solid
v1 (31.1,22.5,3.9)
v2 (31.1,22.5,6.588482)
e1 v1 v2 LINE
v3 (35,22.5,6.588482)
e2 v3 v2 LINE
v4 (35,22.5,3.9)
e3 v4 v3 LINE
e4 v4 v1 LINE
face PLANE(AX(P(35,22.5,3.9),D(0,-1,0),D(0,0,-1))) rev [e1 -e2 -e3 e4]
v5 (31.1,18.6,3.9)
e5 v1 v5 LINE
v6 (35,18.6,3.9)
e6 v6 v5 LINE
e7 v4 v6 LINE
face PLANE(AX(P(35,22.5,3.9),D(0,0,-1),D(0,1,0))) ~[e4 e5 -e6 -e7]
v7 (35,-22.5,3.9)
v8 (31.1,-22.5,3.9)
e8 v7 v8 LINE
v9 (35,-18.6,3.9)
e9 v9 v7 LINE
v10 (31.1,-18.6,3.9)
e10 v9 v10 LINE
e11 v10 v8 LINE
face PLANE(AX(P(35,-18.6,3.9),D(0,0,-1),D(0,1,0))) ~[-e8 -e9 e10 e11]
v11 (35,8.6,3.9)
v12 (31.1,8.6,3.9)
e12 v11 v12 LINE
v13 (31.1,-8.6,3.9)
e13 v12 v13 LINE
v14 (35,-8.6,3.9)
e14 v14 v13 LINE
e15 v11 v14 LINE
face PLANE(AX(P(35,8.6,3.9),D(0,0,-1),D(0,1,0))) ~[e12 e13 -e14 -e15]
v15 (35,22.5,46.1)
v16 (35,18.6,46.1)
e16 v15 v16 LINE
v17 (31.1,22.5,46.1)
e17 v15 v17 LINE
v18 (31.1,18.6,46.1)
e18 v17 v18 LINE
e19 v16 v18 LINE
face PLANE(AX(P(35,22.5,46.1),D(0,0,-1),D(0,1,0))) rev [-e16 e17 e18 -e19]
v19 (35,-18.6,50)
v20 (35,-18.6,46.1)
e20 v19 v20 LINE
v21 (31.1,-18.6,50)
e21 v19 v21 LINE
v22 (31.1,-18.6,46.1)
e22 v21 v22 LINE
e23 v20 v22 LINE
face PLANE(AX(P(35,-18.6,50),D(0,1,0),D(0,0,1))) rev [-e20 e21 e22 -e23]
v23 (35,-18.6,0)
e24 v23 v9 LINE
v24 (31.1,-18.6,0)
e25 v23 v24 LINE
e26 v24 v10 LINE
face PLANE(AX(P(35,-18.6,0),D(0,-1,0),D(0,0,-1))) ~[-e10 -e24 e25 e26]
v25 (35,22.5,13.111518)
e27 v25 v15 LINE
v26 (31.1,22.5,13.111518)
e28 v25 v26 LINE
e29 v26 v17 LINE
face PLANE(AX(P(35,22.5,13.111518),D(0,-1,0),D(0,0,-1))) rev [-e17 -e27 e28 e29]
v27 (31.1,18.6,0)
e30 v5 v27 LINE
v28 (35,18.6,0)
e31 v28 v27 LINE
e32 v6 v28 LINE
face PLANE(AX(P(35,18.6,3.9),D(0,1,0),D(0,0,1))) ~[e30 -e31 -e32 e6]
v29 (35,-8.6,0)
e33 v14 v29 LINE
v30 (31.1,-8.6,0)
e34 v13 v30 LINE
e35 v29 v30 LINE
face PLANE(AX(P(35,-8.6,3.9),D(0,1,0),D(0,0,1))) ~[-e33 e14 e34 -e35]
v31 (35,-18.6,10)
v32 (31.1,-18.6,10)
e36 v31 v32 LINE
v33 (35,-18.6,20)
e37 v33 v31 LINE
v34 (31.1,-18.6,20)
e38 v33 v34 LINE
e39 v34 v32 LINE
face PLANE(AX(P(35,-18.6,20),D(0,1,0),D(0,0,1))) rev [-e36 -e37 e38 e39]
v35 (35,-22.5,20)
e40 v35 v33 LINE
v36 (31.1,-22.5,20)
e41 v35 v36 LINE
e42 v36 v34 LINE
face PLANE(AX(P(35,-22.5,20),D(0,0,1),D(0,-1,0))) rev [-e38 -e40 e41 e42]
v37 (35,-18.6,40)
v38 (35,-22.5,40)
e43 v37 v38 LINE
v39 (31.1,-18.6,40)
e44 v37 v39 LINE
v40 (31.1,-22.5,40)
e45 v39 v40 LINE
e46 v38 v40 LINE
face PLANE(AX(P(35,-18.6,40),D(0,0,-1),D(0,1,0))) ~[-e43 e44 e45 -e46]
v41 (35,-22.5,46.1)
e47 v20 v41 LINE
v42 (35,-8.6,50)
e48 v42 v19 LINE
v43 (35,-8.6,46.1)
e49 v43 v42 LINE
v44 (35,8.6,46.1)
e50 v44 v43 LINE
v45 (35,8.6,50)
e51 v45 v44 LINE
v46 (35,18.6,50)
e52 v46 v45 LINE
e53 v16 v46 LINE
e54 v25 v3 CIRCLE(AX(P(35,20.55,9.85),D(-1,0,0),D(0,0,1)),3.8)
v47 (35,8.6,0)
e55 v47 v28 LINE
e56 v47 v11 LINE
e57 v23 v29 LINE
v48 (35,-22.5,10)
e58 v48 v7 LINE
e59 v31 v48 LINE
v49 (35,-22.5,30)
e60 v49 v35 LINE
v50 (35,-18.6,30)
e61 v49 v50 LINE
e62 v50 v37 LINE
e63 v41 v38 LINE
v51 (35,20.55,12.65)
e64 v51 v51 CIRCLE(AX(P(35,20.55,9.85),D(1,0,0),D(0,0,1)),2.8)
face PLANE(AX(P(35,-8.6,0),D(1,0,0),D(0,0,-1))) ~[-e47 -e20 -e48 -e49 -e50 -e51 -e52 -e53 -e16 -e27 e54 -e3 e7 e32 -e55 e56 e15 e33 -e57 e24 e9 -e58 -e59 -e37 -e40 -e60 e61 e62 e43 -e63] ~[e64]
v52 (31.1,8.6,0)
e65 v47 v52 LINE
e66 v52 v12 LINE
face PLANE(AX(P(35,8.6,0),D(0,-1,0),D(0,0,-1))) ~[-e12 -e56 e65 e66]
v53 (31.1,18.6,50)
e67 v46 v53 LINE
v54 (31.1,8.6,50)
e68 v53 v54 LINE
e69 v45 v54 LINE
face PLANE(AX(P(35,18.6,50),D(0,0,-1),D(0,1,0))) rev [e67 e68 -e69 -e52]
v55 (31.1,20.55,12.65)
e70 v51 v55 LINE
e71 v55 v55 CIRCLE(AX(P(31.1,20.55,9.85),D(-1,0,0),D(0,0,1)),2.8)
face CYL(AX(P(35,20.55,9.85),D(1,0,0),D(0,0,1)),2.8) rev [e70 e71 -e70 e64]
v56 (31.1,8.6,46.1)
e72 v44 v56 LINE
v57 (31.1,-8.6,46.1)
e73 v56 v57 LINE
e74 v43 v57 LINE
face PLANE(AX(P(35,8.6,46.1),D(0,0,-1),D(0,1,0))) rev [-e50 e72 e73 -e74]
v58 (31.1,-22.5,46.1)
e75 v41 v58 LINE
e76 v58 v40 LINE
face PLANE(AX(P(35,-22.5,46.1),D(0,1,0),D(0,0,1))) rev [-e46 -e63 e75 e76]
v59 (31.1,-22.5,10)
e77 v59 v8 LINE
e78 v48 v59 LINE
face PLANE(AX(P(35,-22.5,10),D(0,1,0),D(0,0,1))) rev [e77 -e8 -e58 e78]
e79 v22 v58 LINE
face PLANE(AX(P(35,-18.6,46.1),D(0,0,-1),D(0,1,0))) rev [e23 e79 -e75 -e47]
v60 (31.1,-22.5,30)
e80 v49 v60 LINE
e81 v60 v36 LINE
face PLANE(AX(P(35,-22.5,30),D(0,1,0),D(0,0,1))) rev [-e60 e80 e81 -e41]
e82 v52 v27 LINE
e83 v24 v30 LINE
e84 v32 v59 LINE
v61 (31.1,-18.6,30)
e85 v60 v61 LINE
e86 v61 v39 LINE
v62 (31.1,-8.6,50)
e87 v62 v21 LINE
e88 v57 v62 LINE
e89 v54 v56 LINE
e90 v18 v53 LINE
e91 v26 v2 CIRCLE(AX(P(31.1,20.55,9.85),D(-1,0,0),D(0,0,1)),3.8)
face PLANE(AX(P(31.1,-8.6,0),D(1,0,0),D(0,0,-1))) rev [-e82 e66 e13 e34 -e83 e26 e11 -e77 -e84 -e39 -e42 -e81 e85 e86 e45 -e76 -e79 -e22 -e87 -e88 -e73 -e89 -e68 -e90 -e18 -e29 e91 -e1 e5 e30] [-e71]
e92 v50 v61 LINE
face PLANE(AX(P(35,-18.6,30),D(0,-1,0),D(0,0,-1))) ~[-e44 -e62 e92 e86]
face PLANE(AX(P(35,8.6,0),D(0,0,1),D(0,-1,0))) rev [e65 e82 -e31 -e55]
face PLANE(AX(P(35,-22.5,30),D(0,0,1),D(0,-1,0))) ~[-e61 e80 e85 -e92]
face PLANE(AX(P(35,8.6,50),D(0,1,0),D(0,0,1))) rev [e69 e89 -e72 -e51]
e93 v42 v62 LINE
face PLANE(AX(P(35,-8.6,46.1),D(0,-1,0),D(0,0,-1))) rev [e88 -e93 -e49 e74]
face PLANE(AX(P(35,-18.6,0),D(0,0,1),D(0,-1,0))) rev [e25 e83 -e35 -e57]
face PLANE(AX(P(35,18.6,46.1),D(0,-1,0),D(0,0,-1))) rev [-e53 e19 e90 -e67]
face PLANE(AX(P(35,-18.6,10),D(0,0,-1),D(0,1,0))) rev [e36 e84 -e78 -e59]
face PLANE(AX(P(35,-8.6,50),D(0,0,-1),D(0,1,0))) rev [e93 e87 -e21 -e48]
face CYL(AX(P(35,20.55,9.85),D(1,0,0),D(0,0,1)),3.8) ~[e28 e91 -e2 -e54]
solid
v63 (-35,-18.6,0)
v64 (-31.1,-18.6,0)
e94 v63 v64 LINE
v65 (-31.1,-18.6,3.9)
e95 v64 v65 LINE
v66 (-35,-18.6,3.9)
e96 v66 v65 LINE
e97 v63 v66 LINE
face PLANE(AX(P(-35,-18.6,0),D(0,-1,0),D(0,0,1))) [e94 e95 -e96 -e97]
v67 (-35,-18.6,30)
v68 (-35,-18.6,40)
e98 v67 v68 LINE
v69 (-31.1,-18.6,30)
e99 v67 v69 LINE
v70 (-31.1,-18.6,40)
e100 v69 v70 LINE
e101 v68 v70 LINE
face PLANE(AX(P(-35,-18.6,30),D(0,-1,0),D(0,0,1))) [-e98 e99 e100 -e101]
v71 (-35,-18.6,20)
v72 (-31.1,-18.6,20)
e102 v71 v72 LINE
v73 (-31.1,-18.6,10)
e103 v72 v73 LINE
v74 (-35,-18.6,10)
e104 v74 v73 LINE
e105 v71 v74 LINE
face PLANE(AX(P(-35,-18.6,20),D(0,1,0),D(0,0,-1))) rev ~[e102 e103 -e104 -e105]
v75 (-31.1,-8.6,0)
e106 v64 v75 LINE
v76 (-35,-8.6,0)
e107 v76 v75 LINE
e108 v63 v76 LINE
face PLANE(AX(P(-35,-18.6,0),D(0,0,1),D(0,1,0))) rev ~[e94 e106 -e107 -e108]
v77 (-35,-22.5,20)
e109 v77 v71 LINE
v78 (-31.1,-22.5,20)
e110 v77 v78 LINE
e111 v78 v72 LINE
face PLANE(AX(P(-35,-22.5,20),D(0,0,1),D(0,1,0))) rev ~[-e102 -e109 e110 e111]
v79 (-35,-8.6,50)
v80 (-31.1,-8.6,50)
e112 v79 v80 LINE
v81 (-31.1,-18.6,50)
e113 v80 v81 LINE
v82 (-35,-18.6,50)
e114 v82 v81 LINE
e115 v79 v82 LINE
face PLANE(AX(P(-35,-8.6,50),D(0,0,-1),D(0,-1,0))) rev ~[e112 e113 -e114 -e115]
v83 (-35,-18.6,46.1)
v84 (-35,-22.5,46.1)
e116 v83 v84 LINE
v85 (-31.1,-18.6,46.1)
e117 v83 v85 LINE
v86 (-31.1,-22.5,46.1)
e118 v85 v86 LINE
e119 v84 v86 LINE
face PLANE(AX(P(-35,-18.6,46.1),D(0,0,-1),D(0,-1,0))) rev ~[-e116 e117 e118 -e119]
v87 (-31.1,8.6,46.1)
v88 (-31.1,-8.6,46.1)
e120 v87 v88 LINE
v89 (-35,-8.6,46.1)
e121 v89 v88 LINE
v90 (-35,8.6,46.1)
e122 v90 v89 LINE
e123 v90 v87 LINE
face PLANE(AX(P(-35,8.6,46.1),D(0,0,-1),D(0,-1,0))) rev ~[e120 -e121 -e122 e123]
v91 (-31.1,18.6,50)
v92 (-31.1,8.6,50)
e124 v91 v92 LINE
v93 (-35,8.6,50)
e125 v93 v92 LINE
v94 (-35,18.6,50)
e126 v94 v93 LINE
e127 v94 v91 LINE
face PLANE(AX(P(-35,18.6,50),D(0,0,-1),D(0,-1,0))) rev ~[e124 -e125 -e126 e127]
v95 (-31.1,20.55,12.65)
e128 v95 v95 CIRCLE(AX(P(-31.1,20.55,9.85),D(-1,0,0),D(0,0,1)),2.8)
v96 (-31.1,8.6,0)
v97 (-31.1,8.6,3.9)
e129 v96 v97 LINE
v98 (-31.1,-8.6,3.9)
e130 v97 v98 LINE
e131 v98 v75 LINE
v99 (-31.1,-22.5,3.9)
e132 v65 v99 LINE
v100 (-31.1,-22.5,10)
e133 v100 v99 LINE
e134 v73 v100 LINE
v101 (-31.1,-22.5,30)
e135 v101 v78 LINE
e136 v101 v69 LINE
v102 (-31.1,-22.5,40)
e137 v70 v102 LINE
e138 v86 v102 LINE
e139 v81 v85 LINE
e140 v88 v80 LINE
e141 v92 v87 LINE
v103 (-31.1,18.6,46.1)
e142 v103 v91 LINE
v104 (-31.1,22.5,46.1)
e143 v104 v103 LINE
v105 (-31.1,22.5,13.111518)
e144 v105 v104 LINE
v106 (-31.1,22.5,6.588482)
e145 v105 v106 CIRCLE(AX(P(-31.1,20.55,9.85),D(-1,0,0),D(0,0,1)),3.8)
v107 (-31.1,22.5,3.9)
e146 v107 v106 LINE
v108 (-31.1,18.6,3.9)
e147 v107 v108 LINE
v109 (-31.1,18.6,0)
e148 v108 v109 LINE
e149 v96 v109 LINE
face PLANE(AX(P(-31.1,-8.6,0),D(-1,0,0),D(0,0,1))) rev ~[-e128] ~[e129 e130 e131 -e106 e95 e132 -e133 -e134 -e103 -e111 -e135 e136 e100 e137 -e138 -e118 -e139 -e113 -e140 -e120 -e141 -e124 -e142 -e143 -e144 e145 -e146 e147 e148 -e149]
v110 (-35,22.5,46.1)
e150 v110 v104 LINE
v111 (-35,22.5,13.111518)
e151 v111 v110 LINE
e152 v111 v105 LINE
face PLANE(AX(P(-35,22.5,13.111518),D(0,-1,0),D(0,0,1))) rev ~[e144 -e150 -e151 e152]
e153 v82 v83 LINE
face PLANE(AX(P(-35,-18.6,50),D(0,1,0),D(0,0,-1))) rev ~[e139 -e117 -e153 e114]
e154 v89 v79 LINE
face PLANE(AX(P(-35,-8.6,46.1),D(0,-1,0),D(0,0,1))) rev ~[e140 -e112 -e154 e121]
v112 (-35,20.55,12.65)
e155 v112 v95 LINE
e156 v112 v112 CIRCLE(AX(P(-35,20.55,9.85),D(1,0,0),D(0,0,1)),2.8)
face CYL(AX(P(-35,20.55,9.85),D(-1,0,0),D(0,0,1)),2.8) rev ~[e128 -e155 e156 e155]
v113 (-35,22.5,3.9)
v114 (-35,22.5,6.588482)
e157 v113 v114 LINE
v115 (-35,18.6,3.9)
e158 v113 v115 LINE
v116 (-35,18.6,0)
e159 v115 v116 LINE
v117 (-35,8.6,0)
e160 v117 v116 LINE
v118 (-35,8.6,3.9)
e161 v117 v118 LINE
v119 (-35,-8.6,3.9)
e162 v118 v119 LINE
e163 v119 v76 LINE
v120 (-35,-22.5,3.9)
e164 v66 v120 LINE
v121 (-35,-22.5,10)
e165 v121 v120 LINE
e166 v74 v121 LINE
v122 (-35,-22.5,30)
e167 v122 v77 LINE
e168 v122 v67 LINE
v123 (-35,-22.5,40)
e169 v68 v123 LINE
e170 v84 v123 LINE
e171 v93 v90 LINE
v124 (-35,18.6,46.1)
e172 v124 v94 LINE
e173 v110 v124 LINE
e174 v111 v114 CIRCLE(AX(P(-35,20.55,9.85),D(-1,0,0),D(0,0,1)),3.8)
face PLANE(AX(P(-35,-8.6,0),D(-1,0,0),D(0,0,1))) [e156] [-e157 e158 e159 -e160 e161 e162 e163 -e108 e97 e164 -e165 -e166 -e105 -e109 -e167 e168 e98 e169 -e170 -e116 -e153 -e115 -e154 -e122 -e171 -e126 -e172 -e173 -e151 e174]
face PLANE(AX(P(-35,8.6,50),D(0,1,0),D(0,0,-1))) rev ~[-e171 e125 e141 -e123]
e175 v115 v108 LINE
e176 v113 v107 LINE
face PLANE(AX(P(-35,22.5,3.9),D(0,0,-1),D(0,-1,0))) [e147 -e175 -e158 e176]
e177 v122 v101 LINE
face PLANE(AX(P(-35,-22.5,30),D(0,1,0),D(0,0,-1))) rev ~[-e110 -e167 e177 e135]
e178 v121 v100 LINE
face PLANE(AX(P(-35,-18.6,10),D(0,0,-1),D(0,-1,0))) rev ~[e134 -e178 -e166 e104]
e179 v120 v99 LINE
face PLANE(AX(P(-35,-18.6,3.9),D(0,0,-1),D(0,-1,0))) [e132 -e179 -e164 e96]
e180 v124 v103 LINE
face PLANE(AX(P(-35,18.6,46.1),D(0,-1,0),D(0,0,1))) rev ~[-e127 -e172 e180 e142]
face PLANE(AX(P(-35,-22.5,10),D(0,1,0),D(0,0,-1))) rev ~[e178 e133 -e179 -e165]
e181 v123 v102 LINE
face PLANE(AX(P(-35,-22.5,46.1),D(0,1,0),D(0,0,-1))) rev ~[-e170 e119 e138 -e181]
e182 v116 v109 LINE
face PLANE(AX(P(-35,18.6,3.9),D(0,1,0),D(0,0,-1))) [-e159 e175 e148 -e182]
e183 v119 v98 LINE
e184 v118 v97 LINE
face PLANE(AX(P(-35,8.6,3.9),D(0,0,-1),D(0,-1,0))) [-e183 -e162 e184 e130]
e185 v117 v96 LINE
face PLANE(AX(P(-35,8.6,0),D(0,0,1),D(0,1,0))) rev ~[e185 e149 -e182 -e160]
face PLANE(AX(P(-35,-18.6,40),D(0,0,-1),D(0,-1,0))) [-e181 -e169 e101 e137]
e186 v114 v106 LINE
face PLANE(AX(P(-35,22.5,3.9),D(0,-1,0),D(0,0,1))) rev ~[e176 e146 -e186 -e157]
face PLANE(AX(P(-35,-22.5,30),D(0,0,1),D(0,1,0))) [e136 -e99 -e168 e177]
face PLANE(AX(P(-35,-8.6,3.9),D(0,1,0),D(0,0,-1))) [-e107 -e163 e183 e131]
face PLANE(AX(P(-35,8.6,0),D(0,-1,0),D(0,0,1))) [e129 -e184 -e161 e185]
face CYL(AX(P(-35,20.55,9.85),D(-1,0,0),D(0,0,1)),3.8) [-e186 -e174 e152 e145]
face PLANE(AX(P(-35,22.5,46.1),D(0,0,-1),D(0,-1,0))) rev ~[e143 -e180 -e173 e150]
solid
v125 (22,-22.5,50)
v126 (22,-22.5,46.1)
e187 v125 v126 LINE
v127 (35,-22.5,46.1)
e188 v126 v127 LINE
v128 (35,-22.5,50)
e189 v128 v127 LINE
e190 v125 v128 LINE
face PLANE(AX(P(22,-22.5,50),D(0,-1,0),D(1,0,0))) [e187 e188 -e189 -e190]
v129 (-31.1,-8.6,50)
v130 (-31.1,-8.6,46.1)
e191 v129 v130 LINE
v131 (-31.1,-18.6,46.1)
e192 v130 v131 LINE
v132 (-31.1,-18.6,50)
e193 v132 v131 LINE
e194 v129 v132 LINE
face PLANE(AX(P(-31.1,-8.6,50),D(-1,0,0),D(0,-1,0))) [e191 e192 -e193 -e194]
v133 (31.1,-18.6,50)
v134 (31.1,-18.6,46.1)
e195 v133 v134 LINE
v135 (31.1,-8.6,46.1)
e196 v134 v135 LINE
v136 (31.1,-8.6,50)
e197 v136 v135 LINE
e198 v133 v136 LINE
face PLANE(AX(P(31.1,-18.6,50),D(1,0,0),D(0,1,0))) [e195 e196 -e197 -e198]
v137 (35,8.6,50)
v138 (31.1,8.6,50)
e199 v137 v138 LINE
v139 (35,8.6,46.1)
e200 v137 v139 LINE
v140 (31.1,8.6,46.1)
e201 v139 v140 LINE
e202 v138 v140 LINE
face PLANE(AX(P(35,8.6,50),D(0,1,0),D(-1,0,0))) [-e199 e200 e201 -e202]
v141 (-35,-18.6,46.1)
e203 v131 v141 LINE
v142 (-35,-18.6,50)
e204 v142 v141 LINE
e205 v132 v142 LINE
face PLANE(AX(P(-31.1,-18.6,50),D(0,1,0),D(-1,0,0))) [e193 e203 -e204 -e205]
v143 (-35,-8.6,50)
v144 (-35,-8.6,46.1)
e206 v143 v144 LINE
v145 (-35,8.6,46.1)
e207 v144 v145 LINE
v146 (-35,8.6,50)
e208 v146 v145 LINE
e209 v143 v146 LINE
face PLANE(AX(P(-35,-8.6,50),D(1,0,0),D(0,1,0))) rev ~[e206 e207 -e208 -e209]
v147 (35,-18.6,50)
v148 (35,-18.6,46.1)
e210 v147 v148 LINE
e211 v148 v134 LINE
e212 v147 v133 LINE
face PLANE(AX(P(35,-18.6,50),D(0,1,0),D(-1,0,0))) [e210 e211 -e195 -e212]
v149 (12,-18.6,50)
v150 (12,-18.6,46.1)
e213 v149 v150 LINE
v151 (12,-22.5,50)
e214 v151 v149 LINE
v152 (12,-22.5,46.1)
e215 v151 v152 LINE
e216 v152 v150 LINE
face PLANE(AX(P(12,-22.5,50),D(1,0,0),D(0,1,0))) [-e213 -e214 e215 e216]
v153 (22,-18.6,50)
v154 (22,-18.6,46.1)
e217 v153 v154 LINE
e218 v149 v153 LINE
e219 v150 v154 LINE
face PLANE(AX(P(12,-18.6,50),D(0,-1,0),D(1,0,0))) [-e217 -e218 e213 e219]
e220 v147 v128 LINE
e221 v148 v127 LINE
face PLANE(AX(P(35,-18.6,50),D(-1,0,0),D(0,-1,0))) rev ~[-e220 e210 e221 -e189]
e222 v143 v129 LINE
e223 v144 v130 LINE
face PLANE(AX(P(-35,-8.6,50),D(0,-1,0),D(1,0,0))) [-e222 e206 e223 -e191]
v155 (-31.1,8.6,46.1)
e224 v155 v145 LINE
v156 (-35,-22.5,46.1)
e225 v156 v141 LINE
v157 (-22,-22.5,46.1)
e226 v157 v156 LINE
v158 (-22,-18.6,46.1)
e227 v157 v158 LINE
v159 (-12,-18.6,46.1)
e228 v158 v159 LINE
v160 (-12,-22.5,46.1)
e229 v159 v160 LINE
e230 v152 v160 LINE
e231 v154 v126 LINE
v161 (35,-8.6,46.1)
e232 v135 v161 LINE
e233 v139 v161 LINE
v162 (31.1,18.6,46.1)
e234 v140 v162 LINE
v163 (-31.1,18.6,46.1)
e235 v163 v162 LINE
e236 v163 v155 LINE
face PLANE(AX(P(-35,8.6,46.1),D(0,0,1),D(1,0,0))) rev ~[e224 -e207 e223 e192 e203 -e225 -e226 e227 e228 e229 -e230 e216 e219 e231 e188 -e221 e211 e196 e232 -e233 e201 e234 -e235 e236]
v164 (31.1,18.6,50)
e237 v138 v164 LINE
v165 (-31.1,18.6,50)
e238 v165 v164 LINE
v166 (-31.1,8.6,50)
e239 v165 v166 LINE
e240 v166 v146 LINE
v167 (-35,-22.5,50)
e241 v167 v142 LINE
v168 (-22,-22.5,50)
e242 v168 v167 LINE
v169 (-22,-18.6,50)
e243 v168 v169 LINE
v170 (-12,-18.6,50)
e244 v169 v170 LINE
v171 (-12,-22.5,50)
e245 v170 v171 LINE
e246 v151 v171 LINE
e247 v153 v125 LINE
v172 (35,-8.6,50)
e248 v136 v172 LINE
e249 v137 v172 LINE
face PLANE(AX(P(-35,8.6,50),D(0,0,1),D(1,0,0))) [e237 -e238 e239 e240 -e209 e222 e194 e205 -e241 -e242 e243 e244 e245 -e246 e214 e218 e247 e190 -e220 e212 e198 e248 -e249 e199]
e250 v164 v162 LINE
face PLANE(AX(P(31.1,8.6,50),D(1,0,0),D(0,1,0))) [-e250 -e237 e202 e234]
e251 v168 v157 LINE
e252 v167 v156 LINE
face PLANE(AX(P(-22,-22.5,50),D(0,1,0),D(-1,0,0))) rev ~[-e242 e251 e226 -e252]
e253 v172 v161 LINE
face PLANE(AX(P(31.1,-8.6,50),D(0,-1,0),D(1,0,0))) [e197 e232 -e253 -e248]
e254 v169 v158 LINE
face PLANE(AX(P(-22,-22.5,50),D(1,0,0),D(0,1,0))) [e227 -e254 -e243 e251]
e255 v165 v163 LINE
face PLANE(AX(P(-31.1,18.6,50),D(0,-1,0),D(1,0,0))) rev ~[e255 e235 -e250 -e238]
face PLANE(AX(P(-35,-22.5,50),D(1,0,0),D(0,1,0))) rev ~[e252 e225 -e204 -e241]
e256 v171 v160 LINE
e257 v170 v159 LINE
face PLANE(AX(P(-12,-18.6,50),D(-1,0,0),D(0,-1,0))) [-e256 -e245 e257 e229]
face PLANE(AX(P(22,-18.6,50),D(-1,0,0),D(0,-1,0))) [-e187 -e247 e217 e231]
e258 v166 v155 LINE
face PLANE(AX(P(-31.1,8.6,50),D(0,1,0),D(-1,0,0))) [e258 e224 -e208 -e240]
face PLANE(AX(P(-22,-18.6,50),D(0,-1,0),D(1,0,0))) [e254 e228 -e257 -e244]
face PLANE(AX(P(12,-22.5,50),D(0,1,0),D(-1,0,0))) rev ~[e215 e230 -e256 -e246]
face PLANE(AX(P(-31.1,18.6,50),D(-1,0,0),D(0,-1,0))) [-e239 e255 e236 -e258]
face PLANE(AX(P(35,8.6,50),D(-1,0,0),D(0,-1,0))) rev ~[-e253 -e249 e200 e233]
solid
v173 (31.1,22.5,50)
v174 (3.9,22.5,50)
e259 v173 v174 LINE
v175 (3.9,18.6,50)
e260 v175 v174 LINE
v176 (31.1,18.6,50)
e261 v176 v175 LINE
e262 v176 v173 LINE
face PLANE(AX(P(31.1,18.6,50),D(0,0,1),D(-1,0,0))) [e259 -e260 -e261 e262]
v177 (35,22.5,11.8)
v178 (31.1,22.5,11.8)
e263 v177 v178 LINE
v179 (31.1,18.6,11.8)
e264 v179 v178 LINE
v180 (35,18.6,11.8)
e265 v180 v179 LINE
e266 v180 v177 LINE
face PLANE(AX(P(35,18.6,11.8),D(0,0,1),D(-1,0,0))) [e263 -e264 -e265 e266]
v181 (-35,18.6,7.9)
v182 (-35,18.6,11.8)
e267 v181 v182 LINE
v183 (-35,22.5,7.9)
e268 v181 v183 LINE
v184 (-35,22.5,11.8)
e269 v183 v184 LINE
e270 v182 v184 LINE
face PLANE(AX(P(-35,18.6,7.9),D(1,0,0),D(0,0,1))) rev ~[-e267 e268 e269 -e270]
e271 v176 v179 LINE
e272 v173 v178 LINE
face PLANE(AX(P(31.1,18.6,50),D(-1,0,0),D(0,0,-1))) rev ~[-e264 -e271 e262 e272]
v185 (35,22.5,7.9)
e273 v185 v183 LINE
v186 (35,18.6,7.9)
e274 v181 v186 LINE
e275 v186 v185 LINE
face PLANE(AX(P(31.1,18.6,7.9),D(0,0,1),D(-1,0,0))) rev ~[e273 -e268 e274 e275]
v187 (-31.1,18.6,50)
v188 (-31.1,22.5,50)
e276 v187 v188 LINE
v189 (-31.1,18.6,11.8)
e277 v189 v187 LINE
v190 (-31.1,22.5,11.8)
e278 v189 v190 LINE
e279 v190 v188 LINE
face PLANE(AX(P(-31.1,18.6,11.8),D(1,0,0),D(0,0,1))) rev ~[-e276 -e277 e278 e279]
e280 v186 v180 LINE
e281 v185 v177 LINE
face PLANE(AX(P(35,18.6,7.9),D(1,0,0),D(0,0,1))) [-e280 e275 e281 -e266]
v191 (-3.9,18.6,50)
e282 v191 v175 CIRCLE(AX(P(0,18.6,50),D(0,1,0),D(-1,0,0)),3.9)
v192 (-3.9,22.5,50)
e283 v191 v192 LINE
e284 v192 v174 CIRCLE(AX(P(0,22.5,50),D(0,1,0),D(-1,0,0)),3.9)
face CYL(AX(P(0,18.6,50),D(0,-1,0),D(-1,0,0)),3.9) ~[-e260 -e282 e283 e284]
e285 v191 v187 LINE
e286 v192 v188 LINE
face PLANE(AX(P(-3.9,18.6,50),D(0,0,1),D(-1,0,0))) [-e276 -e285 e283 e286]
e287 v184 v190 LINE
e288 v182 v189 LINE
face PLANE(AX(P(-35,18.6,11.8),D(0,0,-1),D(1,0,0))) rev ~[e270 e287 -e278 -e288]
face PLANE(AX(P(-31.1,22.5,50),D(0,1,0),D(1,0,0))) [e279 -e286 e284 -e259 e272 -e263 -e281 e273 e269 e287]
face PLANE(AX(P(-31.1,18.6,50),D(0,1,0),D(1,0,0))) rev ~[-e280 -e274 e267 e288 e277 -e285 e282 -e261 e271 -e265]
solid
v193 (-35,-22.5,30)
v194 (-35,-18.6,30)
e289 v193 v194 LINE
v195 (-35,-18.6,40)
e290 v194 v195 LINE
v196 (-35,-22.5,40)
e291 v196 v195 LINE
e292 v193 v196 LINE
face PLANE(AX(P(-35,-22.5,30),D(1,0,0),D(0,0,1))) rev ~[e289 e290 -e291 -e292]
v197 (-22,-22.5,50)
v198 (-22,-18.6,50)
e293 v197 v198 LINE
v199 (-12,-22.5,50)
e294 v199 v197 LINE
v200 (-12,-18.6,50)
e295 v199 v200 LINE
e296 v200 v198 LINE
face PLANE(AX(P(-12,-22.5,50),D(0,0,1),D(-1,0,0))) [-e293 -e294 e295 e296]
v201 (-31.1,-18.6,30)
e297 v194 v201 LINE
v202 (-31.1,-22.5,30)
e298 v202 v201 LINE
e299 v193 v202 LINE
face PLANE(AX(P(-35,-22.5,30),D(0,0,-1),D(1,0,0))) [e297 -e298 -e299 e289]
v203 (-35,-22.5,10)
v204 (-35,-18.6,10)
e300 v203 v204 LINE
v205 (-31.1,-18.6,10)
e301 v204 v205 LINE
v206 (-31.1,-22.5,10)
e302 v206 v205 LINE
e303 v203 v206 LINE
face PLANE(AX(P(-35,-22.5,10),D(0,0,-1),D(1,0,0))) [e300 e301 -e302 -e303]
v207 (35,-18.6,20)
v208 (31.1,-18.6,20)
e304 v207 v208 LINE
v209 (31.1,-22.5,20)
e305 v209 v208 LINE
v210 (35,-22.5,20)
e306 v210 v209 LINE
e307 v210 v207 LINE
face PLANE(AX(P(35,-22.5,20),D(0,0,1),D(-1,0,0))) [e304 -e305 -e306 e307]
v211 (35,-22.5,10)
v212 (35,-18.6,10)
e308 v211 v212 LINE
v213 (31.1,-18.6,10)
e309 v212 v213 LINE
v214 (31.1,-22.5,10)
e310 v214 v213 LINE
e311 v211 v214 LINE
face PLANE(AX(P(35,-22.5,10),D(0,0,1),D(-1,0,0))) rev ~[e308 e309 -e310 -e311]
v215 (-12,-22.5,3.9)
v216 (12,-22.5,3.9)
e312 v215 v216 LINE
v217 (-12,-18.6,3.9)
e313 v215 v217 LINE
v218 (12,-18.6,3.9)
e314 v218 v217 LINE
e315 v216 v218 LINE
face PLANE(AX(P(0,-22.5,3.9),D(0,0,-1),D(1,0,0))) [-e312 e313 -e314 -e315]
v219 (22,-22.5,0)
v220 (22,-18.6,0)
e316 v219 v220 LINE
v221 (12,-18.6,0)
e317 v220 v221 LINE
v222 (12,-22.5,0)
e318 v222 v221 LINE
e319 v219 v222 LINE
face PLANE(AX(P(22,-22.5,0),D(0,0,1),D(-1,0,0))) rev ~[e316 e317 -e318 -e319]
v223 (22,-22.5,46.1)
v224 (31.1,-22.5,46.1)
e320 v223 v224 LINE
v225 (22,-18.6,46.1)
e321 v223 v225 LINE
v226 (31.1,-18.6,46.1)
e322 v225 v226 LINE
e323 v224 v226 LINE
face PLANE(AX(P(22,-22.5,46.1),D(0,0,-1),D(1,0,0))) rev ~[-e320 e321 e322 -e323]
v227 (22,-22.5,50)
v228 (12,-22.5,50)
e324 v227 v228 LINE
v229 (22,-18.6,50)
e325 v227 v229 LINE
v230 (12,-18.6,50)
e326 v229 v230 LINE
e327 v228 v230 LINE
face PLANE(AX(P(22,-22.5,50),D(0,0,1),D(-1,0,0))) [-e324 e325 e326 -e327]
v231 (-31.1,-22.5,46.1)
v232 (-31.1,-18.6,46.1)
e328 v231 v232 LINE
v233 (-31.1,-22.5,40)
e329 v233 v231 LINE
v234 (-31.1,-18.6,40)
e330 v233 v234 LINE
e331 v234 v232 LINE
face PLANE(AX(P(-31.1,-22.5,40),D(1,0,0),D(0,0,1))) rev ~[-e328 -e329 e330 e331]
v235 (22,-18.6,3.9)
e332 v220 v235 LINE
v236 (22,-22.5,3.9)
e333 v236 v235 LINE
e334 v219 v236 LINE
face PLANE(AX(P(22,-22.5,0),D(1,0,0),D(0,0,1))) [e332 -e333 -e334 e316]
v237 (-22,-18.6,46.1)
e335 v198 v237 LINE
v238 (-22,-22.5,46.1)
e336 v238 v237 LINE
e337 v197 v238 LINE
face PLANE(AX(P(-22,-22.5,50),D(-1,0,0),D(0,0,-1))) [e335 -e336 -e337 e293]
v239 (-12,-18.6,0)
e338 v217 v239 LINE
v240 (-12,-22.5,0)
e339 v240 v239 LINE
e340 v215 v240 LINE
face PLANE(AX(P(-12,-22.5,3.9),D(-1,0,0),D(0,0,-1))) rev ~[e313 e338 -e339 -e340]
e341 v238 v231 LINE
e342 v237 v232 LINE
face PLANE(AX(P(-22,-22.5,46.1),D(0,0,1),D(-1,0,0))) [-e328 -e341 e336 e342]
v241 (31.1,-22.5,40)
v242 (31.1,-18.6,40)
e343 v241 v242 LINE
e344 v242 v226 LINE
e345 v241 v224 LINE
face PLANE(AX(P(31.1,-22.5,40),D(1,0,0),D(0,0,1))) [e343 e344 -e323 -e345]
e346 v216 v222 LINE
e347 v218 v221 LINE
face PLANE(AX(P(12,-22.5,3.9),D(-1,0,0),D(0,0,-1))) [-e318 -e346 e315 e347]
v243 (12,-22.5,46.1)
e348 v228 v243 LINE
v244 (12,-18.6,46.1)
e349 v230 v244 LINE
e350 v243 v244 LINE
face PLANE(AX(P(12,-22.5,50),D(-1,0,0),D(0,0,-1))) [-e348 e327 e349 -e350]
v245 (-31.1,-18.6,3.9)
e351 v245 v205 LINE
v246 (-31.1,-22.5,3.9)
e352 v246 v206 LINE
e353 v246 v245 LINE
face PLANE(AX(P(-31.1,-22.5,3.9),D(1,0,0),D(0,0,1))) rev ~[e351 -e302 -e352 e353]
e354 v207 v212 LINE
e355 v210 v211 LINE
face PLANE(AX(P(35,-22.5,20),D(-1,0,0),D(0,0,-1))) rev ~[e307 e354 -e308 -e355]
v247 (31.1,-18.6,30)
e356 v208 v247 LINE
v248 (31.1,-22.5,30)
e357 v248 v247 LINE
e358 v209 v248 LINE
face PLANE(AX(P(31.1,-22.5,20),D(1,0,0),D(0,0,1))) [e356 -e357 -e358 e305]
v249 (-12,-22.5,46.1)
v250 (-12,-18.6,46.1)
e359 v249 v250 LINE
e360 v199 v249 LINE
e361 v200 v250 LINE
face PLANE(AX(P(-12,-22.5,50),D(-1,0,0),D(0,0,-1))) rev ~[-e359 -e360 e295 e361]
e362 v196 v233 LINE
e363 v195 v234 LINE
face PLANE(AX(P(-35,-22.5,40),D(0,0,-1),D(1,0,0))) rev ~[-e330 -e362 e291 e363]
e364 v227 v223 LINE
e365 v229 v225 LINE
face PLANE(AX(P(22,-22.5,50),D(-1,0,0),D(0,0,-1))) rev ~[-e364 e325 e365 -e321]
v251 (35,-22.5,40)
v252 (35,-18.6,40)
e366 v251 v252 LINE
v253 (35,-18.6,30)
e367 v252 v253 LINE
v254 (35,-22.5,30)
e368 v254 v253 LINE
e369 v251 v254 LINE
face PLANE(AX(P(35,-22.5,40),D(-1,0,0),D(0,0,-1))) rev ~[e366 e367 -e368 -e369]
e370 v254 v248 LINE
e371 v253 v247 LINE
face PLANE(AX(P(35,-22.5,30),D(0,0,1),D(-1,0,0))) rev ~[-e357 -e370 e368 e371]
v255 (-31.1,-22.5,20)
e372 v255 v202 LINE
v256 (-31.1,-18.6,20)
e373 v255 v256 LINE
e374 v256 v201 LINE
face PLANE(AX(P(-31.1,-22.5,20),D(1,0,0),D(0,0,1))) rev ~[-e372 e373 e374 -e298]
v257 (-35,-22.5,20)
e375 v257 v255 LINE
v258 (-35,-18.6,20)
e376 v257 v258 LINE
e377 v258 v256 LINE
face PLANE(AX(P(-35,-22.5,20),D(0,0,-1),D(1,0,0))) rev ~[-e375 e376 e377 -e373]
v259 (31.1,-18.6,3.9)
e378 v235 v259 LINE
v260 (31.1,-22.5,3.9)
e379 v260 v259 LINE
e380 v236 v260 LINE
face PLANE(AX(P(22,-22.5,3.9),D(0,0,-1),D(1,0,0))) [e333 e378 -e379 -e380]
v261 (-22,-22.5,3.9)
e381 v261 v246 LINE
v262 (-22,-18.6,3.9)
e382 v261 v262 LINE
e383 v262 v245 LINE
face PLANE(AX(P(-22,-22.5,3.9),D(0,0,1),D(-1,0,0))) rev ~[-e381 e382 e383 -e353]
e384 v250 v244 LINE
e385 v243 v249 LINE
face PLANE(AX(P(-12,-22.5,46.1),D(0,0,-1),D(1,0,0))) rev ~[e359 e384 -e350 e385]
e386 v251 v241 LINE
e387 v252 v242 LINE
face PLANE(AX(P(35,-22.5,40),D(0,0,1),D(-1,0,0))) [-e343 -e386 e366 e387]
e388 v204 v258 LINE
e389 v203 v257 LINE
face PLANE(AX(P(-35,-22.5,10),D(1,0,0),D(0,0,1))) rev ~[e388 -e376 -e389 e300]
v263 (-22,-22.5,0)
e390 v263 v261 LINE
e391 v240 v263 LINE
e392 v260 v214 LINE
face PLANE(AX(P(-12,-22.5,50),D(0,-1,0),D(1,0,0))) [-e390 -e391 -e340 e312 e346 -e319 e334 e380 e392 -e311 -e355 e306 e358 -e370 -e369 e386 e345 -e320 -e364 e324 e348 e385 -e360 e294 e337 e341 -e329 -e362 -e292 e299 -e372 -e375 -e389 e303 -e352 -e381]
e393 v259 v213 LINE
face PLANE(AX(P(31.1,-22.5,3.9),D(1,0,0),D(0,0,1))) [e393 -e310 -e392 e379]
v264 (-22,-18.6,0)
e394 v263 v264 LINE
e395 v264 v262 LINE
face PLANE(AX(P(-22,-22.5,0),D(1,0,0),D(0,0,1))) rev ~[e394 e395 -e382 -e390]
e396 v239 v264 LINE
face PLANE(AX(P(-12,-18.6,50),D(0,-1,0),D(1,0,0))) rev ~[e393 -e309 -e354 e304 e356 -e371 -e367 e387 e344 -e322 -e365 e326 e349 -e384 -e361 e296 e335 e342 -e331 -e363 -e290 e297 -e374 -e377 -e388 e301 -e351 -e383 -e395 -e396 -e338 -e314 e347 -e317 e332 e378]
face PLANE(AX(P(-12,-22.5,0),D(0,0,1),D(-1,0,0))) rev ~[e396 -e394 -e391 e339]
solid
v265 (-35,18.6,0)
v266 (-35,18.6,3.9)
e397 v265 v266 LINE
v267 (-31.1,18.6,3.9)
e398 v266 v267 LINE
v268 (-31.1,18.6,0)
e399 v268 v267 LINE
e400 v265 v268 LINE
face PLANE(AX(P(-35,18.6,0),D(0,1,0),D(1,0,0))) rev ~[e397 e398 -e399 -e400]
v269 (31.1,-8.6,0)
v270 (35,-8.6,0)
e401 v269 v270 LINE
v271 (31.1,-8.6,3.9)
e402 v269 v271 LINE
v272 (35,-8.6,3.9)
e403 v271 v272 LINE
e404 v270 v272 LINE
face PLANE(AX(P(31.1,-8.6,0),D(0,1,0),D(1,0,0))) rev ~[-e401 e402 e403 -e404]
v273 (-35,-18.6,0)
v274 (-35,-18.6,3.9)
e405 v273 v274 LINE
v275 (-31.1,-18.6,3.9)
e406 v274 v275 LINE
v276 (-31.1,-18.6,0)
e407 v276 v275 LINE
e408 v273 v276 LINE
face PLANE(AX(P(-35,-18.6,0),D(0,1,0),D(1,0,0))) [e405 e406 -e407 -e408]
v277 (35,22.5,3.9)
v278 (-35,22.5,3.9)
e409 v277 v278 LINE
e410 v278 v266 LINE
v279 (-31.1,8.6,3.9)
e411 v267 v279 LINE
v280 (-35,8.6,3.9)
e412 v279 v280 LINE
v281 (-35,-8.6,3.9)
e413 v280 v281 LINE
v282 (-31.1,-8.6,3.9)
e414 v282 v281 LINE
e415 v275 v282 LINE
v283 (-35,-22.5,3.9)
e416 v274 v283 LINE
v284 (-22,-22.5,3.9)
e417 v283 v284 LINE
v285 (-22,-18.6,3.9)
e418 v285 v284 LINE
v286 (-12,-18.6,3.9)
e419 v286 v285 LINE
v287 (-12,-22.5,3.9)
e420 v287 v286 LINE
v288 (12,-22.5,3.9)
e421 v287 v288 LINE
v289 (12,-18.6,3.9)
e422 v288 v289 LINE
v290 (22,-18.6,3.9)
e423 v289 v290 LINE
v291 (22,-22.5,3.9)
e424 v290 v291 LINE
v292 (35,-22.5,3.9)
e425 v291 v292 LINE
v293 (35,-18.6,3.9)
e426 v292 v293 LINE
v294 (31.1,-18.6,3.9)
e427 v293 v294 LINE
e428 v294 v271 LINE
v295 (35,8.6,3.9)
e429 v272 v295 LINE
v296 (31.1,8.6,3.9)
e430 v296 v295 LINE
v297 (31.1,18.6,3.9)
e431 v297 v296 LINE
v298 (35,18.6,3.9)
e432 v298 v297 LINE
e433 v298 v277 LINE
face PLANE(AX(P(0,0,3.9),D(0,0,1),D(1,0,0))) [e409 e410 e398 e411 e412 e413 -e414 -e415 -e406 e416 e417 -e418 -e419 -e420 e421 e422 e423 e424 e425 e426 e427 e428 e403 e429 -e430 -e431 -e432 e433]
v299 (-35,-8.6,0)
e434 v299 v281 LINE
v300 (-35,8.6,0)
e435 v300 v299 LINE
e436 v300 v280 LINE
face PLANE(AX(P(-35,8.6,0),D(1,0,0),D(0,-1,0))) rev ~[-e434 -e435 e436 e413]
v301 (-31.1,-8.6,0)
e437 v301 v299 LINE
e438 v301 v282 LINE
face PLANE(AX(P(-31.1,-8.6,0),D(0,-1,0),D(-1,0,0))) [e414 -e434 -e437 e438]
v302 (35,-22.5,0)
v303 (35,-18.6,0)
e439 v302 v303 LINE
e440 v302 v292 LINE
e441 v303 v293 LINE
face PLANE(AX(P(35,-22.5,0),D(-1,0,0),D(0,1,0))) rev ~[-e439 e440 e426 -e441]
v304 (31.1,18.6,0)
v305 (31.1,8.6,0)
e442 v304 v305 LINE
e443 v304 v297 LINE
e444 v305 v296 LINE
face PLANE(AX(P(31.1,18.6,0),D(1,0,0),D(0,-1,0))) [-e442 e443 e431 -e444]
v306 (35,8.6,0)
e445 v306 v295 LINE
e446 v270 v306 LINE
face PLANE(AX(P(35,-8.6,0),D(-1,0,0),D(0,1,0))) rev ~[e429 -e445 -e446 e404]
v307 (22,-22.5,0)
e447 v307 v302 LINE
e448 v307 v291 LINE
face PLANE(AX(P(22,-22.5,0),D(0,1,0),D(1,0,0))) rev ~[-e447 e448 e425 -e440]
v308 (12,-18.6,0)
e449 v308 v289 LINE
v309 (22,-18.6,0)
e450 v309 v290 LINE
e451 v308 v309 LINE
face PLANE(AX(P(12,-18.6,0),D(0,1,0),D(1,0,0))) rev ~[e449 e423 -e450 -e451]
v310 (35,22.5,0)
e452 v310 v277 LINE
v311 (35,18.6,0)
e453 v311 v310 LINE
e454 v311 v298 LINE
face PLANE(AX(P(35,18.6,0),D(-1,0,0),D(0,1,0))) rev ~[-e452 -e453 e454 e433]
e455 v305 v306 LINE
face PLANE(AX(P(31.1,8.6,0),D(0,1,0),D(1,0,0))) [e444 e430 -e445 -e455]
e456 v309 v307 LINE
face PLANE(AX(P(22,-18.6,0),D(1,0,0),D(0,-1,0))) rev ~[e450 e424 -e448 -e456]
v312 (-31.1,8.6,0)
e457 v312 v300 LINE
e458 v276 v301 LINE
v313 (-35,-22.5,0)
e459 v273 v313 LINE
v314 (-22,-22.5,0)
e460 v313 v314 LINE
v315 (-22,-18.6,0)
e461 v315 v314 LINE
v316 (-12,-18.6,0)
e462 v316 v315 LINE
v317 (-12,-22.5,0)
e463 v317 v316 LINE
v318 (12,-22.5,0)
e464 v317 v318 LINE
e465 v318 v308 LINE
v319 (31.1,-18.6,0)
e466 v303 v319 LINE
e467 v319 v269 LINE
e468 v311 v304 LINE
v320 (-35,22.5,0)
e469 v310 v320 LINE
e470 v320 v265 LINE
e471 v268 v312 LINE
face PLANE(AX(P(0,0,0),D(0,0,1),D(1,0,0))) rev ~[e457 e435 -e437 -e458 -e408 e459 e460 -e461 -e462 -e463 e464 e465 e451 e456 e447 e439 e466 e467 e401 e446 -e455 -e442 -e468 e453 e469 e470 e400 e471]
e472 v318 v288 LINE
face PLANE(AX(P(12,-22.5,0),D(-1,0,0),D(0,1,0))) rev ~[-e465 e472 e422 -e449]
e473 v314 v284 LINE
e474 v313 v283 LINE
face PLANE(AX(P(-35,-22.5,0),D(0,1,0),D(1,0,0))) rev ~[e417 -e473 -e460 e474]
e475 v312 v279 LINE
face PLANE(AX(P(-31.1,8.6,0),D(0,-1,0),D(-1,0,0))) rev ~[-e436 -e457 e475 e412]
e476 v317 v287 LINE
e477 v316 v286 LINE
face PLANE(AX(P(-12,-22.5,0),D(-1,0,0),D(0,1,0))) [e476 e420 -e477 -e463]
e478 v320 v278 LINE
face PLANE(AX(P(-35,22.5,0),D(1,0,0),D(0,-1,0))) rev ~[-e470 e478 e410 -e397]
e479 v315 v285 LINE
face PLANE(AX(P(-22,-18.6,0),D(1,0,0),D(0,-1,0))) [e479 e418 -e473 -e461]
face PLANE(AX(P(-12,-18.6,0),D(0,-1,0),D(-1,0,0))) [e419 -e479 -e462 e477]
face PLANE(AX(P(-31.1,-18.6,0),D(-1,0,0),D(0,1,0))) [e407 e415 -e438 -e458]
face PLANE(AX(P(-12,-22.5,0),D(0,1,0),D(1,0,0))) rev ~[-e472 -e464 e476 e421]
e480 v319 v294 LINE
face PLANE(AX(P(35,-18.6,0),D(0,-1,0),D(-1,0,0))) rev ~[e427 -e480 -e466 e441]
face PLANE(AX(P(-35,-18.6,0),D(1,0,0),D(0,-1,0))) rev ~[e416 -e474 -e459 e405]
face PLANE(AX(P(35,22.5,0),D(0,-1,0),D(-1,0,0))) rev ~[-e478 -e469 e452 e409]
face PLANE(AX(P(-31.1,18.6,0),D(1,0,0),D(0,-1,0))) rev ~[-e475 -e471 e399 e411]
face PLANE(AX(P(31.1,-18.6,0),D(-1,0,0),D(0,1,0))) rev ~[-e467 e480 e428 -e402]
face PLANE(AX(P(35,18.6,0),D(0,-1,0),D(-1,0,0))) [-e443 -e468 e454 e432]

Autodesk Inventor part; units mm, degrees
ref_plane "YZ Plane" through (0, 0, 0) normal (1, 0, 0) x (0, 1, 0)
ref_plane "XZ Plane" through (0, 0, 0) normal (0, 1, 0) x (-1, 0, 0)
ref_plane "XY Plane" through (0, 0, 0) normal (0, 0, 1) x (1, 0, 0)
sketch "Sketch1" plane through (0, 0, 0) normal (0, 0, 1) x (1, 0, 0)
  line L0 (-35, -22.5) -> (35, -22.5)
  line L1 (35, -22.5) -> (35, 22.5)
  line L2 (35, 22.5) -> (-35, 22.5)
  line L3 (-35, 22.5) -> (-35, -22.5)
  line L4 (-35, -22.5) -> (35, 22.5) construction
  line L5 (35, -22.5) -> (-35, 22.5) construction
  line L6 (-35, 0) -> (35, 0) construction
  line L7 (0, 22.5) -> (0, -22.5) construction
  line L8 (-35, 18.6) -> (-31.1, 18.6)
  line L9 (-31.1, 18.6) -> (-31.1, 8.6)
  line L10 (-31.1, 8.6) -> (-35, 8.6)
  line L11 (-35, 8.6) -> (-35, 18.6)
  line L12 (-35, -18.6) -> (-31.1, -18.6)
  line L13 (-31.1, -18.6) -> (-31.1, -8.6)
  line L14 (-31.1, -8.6) -> (-35, -8.6)
  line L15 (35, 18.6) -> (31.1, 18.6)
  line L16 (31.1, 18.6) -> (31.1, 8.6)
  line L17 (31.1, 8.6) -> (35, 8.6)
  line L18 (31.1, -18.6) -> (31.1, -8.6)
  line L19 (31.1, -8.6) -> (35, -8.6)
  line L20 (35, -18.6) -> (31.1, -18.6)
  line L21 (-22, -22.5) -> (-12, -22.5)
  line L22 (-12, -22.5) -> (-12, -18.6)
  line L23 (-12, -18.6) -> (-22, -18.6)
  line L24 (-22, -18.6) -> (-22, -22.5)
  line L25 (12, -22.5) -> (12, -18.6)
  line L26 (12, -18.6) -> (22, -18.6)
  line L27 (22, -18.6) -> (22, -22.5)
  point P0 (0, 0)
  point P1 (-35, -18.6)
  point P2 (35, -18.6)
  point P3 (35, -8.6)
  point P4 (35, 8.6)
  point P5 (35, 18.6)
  point P6 (-35, 8.6)
  point P7 (-35, -8.6)
  dimension "d0" = 70
  dimension "d1" = 45
  dimension "d2" = 3.9
  dimension "d3" = 10
  dimension "d4" = 3.9
  dimension "d7" = 10
  dimension "d8" = 3.9
  dimension "d9" = 12
extrude "Extrusion1" add sketch "Sketch1" along normal blind 3.9 contours L3 L12 L13 L14 L10 L9 L8 L2 L1 L15 L16 L17 L19 L18 L20 L0 L27 L26 L25 L22 L23 L24
sketch "Sketch2" plane through (-35, -8.6, 0) normal (-1, 0, 0) x (0, 0, 1)
  line L0 (50, -13.9) -> (0, -13.9)
  line L1 (0, -13.9) -> (0, 31.1)
  line L2 (0, 31.1) -> (50, 31.1)
  line L3 (50, 31.1) -> (50, -13.9)
  line L4 (50, -13.9) -> (0, 31.1) construction
  line L5 (0, -13.9) -> (50, 31.1) construction
  line L6 (3.9, 31.1) -> (3.9, 27.2) projected
  line L7 (0, 31.1) -> (0, 27.2) projected
  line L8 (3.9, 27.2) -> (0, 27.2)
  line L9 (0, 27.2) -> (0, 31.1)
  line L10 (0, 31.1) -> (3.9, 31.1)
  line L11 (3.9, 31.1) -> (3.9, 27.2)
  line L12 (25, 31.1) -> (25, -13.9) construction
  line L13 (0, 8.6) -> (50, 8.6) construction
  line L14 (0, 0) -> (0, -10) projected
  line L15 (0, -10) -> (3.9, -10)
  line L16 (3.9, -10) -> (3.9, -13.9)
  line L17 (3.9, -13.9) -> (0, -13.9)
  line L18 (0, -13.9) -> (0, -10)
  line L19 (0, 27.2) -> (0, 17.2) projected
  line L20 (3.9, 17.2) -> (3.9, 0) projected
  line L21 (0, 17.2) -> (3.9, 17.2)
  line L22 (3.9, 17.2) -> (3.9, 0)
  line L23 (3.9, 0) -> (0, 0)
  line L24 (0, 0) -> (0, 17.2)
  line L25 (46.1, 31.1) -> (46.1, 27.2)
  line L26 (46.1, 27.2) -> (50, 27.2)
  line L27 (50, -10) -> (46.1, -10)
  line L28 (46.1, -10) -> (46.1, -13.9)
  line L29 (46.1, 17.2) -> (46.1, 0)
  line L30 (50, 17.2) -> (46.1, 17.2)
  line L31 (46.1, 0) -> (50, 0)
  line L32 (10, -13.9) -> (20, -13.9)
  line L33 (20, -13.9) -> (20, -10)
  line L34 (20, -10) -> (10, -10)
  line L35 (10, -10) -> (10, -13.9)
  line L36 (50, 8.6) -> (0, 8.6) construction
  line L37 (30, -13.9) -> (30, -10)
  line L38 (30, -10) -> (40, -10)
  line L39 (40, -10) -> (40, -13.9)
  line L40 (7.9, 31.1) -> (11.8, 31.1)
  line L41 (11.8, 31.1) -> (11.8, 27.2) construction
  line L42 (11.8, 27.2) -> (7.9, 27.2) construction
  line L43 (7.9, 27.2) -> (7.9, 31.1) construction
  circle A0 centre (9.85, 29.15) radius 2.8
  circle A1 centre (9.85, 29.15) radius 3.8
  point P0 (25, 8.6)
  point P1 (0, 27.2)
  point P2 (20, -13.9)
  point P3 (30, -13.9)
  point P4 (6.5885, 31.1)
  point P5 (13.1115, 31.1)
  dimension "d10" = 50
  dimension "d11" = 45
  dimension "d12" = 10
  dimension "d13" = 3.9
  dimension "d14" = 5
  dimension "d28" = 3.9
  dimension "d29" = 3.9
  dimension "d30" = 4
  dimension "d31" = 5.6
  dimension "d32" = 1
extrude "Extrusion2" add sketch "Sketch2" against normal blind 3.9 separate body contours L0 L39 L38 L37 L33 L34 L35 L16 L15 L1 L23 L20 L21 L8 L6 L2 A1 L25 L26 L3 L30 L29 L31 L27 L28 | A1 L2 A0 | L2 A0 A1
mirror "Mirror1" about plane through (0, 0, 0) normal (1, 0, 0) of "Extrusion2" bodies 2
sketch "Sketch3" plane through (-35, 8.6, 50) normal (0, 0, 1) x (1, 0, 0)
  line L0 (0, 10) -> (3.9, 10) projected
  line L1 (57, -31.1) -> (70, -31.1) projected
  line L2 (0, 10) -> (70, 10)
  line L3 (70, 10) -> (70, -31.1)
  line L4 (70, -31.1) -> (0, -31.1)
  line L5 (0, -31.1) -> (0, 10)
  line L6 (0, 13.9) -> (0, 10) projected
  line L7 (3.9, 10) -> (3.9, 0) projected
  line L8 (0, 10) -> (3.9, 10)
  line L9 (3.9, 10) -> (3.9, 0)
  line L10 (3.9, 0) -> (0, 0)
  line L11 (0, 0) -> (0, 10)
  line L12 (0, 0) -> (0, -17.2) projected
  line L13 (3.9, -17.2) -> (3.9, -27.2) projected
  line L14 (0, -17.2) -> (3.9, -17.2)
  line L15 (3.9, -17.2) -> (3.9, -27.2)
  line L16 (3.9, -27.2) -> (0, -27.2)
  line L17 (0, -27.2) -> (0, -17.2)
  line L18 (66.1, 0) -> (66.1, 10) projected
  line L19 (70, 0) -> (70, 10) projected
  line L20 (66.1, 10) -> (70, 10)
  line L21 (70, 10) -> (70, 0)
  line L22 (70, 0) -> (66.1, 0)
  line L23 (66.1, 0) -> (66.1, 10)
  line L24 (66.1, -17.2) -> (66.1, 0) construction
  line L25 (66.1, -17.2) -> (70, -17.2)
  line L26 (70, -17.2) -> (70, -27.2)
  line L27 (70, -27.2) -> (66.1, -27.2)
  line L28 (66.1, -27.2) -> (66.1, -17.2)
  line L29 (13, -27.2) -> (23, -27.2) projected
  line L30 (13, -27.2) -> (23, -27.2)
  line L31 (23, -27.2) -> (23, -31.1)
  line L32 (23, -31.1) -> (13, -31.1)
  line L33 (13, -31.1) -> (13, -27.2)
  line L34 (47, -31.1) -> (47, -27.2) projected
  line L35 (57, -27.2) -> (57, -31.1) projected
  line L36 (47, -27.2) -> (57, -27.2)
  line L37 (57, -27.2) -> (57, -31.1)
  line L38 (57, -31.1) -> (47, -31.1)
  line L39 (47, -31.1) -> (47, -27.2)
  point P0 (35, -8.6)
  point P1 (0, 0)
extrude "Extrusion3" add sketch "Sketch3" against normal blind 3.9 separate body contours L2 L18 L22 L3 L25 L28 L27 L1 L35 L36 L34 L4 L31 L29 L33 L5 L16 L13 L14 L10 L7
sketch "Sketch4" plane through (-12, -22.5, 50) normal (0, -1, 0) x (1, 0, 0)
  line L0 (43.1, 0) -> (-19.1, 0) projected
  line L1 (12, 0) -> (12, -50) construction
  line L2 (47, -50) -> (-23, -50) construction
  line L3 (0, 0) -> (0, -3.9) projected
  line L4 (12, 0) -> (0, 0)
  line L5 (0, 0) -> (0, -3.9)
  line L6 (0, -3.9) -> (12, -3.9)
  line L7 (12, -3.9) -> (12, 0)
  line L8 (-10, 0) -> (-10, -3.9) projected
  line L9 (-23, 0) -> (-19.1, 0) projected
  line L10 (-10, -3.9) -> (-23, -3.9)
  line L11 (-23, -3.9) -> (-23, 0)
  line L12 (-23, 0) -> (-10, 0)
  line L13 (-10, 0) -> (-10, -3.9)
  line L14 (-23, -10) -> (-19.1, -10) projected
  line L15 (-19.1, -46.1) -> (-19.1, -3.9) projected
  line L16 (-23, -10) -> (-19.1, -10)
  line L17 (-19.1, -10) -> (-19.1, -3.9)
  line L18 (-19.1, -3.9) -> (-23, -3.9)
  line L19 (-23, -3.9) -> (-23, -10)
  line L20 (-23, -20) -> (-19.1, -20) projected
  line L21 (-23, -30) -> (-19.1, -30) projected
  line L22 (-23, -20) -> (-19.1, -20)
  line L23 (-19.1, -20) -> (-19.1, -30)
  line L24 (-19.1, -30) -> (-23, -30)
  line L25 (-23, -30) -> (-23, -20)
  line L26 (47, -46.1) -> (-23, -46.1) construction
  line L27 (12, -46.1) -> (0, -46.1)
  line L28 (0, -46.1) -> (0, -50)
  line L29 (0, -50) -> (12, -50)
  line L30 (12, -50) -> (12, -46.1)
  line L31 (-10, -50) -> (-10, -46.1) projected
  line L32 (-19.1, -50) -> (-23, -50) projected
  line L33 (-10, -46.1) -> (-23, -46.1)
  line L34 (-23, -46.1) -> (-23, -50)
  line L35 (-23, -50) -> (-10, -50)
  line L36 (-10, -50) -> (-10, -46.1)
  line L37 (-19.1, -50) -> (-19.1, -46.1) projected
  line L38 (-23, -40) -> (-19.1, -40) projected
  line L39 (-19.1, -46.1) -> (-23, -46.1)
  line L40 (-23, -46.1) -> (-23, -40)
  line L41 (-23, -40) -> (-19.1, -40)
  line L42 (-19.1, -40) -> (-19.1, -46.1)
  line L43 (34, 0) -> (34, -3.9)
  line L44 (34, -3.9) -> (47, -3.9)
  line L45 (47, -10) -> (43.1, -10)
  line L46 (43.1, -3.9) -> (47, -3.9)
  line L47 (47, -30) -> (43.1, -30)
  line L48 (47, -20) -> (43.1, -20)
  line L49 (34, -50) -> (34, -46.1)
  line L50 (43.1, -50) -> (43.1, -46.1)
  line L51 (47, -40) -> (43.1, -40)
  line L52 (24, 0) -> (24, -3.9)
  line L53 (12, 0) -> (24, 0)
  line L54 (24, -3.9) -> (12, -3.9)
  line L55 (43.1, -10) -> (43.1, -3.9)
  line L56 (43.1, -46.1) -> (43.1, -40)
  line L57 (43.1, -30) -> (43.1, -20)
  line L58 (34, -46.1) -> (47, -46.1)
  line L59 (34, -50) -> (47, -50)
  line L60 (-23, -46.1) -> (-10, -46.1)
  line L61 (0, -46.1) -> (12, -46.1)
  line L62 (-23, -50) -> (-10, -50)
  line L63 (0, -50) -> (12, -50)
  line L64 (-23, -50) -> (47, -50) construction
  line L65 (-23, -46.1) -> (47, -46.1) construction
  line L66 (12, -46.1) -> (24, -46.1)
  line L67 (24, -46.1) -> (24, -50)
  line L68 (24, -50) -> (12, -50)
  line L69 (-23, -3.9) -> (-23, 0) projected
  line L70 (47, -50) -> (47, -46.1) projected
  line L71 (-23, 0) -> (47, 0)
  line L72 (47, 0) -> (47, -50)
  line L73 (47, -50) -> (-23, -50)
  line L74 (-23, -50) -> (-23, 0)
  point P0 (47, -40)
  point P1 (47, -30)
  point P2 (47, -20)
  point P3 (47, -10)
  point P4 (34, 0)
  point P5 (24, 0)
  point P6 (-23, -20)
  point P7 (-23, -30)
extrude "Extrusion4" add sketch "Sketch4" against normal blind 3.9 separate body contours L43 L44 L55 L45 L72 L48 L57 L47 L51 L56 L58 L49 L73 L67 L66 L27 L28 L31 L33 L15 L10 L8 L0 L3 L6 L54 L52 | L15 L20 L74 L14 | L15 L38 L74 L21
sketch "Sketch5" plane through (-31.1, 18.6, 50) normal (0, 1, 0) x (1, 0, 0)
  line L0 (-3.9, 0) -> (0, 0) projected
  line L1 (62.2, 40) -> (62.2, 46.1) projected
  line L2 (62.2, 0) -> (62.2, 42.1)
  line L3 (62.2, 42.1) -> (0, 42.1)
  line L4 (0, 42.1) -> (0, 0)
  line L5 (66.1, 46.1) -> (-3.9, 46.1) projected
  line L6 (62.2, 0) -> (0, 0) projected
  arc A0 (27.2, 0) -> (35, 0) centre (31.1, 0) ccw
  line L7 (0, 0) -> (27.2, 0)
  line L8 (35, 0) -> (62.2, 0)
  line L9 (0, 42.1) -> (-3.9, 42.1)
  line L10 (-3.9, 42.1) -> (-3.9, 38.2)
  line L11 (-3.9, 38.2) -> (0, 38.2)
  line L12 (0, 38.2) -> (0, 42.1)
  line L13 (62.2, 42.1) -> (66.1, 42.1)
  line L14 (66.1, 42.1) -> (66.1, 38.2)
  line L15 (66.1, 38.2) -> (62.2, 38.2)
  line L16 (62.2, 38.2) -> (62.2, 42.1)
  point P0 (31.1, 50)
  point P1 (35, 0)
  point P2 (62.2, 38.2)
  point P3 (0, 38.2)
  dimension "d21" = 4
  dimension "d22" = 7.8
  dimension "d33" = 3.9
  dimension "d34" = 3.9
  dimension "d35" = 3.9
  dimension "d36" = 3.9
extrude "Extrusion5" add sketch "Sketch5" along normal blind 3.9 separate body
equation "\"d0\" = length"
equation "\"d1\" = height"
equation "\"d2\" = thick"
equation "\"d3\" = tab"
equation "\"d4\" = thick"
equation "\"d7\" = tab"
equation "\"d8\" = thick"
equation "\"d5\" = thick"
equation "\"d10\" = witdh"
equation "\"d11\" = height"
equation "\"d12\" = tab"
equation "\"d13\" = thick"
equation "\"d28\" = thick"
equation "\"d29\" = thick"
equation "\"d15\" = thick"
equation "\"d17\" = thick"
equation "\"d19\" = thick"
equation "\"d33\" = thick"
equation "\"d34\" = thick"
equation "\"d35\" = thick"
equation "\"d36\" = thick"
equation "\"d23\" = thick"
equation "\"length\" = 70"
equation "\"witdh\" = 50"
equation "\"height\" = 45"
equation "\"thick\" = 3.9"
equation "\"tab\" = 10"
properties part number "music box"
